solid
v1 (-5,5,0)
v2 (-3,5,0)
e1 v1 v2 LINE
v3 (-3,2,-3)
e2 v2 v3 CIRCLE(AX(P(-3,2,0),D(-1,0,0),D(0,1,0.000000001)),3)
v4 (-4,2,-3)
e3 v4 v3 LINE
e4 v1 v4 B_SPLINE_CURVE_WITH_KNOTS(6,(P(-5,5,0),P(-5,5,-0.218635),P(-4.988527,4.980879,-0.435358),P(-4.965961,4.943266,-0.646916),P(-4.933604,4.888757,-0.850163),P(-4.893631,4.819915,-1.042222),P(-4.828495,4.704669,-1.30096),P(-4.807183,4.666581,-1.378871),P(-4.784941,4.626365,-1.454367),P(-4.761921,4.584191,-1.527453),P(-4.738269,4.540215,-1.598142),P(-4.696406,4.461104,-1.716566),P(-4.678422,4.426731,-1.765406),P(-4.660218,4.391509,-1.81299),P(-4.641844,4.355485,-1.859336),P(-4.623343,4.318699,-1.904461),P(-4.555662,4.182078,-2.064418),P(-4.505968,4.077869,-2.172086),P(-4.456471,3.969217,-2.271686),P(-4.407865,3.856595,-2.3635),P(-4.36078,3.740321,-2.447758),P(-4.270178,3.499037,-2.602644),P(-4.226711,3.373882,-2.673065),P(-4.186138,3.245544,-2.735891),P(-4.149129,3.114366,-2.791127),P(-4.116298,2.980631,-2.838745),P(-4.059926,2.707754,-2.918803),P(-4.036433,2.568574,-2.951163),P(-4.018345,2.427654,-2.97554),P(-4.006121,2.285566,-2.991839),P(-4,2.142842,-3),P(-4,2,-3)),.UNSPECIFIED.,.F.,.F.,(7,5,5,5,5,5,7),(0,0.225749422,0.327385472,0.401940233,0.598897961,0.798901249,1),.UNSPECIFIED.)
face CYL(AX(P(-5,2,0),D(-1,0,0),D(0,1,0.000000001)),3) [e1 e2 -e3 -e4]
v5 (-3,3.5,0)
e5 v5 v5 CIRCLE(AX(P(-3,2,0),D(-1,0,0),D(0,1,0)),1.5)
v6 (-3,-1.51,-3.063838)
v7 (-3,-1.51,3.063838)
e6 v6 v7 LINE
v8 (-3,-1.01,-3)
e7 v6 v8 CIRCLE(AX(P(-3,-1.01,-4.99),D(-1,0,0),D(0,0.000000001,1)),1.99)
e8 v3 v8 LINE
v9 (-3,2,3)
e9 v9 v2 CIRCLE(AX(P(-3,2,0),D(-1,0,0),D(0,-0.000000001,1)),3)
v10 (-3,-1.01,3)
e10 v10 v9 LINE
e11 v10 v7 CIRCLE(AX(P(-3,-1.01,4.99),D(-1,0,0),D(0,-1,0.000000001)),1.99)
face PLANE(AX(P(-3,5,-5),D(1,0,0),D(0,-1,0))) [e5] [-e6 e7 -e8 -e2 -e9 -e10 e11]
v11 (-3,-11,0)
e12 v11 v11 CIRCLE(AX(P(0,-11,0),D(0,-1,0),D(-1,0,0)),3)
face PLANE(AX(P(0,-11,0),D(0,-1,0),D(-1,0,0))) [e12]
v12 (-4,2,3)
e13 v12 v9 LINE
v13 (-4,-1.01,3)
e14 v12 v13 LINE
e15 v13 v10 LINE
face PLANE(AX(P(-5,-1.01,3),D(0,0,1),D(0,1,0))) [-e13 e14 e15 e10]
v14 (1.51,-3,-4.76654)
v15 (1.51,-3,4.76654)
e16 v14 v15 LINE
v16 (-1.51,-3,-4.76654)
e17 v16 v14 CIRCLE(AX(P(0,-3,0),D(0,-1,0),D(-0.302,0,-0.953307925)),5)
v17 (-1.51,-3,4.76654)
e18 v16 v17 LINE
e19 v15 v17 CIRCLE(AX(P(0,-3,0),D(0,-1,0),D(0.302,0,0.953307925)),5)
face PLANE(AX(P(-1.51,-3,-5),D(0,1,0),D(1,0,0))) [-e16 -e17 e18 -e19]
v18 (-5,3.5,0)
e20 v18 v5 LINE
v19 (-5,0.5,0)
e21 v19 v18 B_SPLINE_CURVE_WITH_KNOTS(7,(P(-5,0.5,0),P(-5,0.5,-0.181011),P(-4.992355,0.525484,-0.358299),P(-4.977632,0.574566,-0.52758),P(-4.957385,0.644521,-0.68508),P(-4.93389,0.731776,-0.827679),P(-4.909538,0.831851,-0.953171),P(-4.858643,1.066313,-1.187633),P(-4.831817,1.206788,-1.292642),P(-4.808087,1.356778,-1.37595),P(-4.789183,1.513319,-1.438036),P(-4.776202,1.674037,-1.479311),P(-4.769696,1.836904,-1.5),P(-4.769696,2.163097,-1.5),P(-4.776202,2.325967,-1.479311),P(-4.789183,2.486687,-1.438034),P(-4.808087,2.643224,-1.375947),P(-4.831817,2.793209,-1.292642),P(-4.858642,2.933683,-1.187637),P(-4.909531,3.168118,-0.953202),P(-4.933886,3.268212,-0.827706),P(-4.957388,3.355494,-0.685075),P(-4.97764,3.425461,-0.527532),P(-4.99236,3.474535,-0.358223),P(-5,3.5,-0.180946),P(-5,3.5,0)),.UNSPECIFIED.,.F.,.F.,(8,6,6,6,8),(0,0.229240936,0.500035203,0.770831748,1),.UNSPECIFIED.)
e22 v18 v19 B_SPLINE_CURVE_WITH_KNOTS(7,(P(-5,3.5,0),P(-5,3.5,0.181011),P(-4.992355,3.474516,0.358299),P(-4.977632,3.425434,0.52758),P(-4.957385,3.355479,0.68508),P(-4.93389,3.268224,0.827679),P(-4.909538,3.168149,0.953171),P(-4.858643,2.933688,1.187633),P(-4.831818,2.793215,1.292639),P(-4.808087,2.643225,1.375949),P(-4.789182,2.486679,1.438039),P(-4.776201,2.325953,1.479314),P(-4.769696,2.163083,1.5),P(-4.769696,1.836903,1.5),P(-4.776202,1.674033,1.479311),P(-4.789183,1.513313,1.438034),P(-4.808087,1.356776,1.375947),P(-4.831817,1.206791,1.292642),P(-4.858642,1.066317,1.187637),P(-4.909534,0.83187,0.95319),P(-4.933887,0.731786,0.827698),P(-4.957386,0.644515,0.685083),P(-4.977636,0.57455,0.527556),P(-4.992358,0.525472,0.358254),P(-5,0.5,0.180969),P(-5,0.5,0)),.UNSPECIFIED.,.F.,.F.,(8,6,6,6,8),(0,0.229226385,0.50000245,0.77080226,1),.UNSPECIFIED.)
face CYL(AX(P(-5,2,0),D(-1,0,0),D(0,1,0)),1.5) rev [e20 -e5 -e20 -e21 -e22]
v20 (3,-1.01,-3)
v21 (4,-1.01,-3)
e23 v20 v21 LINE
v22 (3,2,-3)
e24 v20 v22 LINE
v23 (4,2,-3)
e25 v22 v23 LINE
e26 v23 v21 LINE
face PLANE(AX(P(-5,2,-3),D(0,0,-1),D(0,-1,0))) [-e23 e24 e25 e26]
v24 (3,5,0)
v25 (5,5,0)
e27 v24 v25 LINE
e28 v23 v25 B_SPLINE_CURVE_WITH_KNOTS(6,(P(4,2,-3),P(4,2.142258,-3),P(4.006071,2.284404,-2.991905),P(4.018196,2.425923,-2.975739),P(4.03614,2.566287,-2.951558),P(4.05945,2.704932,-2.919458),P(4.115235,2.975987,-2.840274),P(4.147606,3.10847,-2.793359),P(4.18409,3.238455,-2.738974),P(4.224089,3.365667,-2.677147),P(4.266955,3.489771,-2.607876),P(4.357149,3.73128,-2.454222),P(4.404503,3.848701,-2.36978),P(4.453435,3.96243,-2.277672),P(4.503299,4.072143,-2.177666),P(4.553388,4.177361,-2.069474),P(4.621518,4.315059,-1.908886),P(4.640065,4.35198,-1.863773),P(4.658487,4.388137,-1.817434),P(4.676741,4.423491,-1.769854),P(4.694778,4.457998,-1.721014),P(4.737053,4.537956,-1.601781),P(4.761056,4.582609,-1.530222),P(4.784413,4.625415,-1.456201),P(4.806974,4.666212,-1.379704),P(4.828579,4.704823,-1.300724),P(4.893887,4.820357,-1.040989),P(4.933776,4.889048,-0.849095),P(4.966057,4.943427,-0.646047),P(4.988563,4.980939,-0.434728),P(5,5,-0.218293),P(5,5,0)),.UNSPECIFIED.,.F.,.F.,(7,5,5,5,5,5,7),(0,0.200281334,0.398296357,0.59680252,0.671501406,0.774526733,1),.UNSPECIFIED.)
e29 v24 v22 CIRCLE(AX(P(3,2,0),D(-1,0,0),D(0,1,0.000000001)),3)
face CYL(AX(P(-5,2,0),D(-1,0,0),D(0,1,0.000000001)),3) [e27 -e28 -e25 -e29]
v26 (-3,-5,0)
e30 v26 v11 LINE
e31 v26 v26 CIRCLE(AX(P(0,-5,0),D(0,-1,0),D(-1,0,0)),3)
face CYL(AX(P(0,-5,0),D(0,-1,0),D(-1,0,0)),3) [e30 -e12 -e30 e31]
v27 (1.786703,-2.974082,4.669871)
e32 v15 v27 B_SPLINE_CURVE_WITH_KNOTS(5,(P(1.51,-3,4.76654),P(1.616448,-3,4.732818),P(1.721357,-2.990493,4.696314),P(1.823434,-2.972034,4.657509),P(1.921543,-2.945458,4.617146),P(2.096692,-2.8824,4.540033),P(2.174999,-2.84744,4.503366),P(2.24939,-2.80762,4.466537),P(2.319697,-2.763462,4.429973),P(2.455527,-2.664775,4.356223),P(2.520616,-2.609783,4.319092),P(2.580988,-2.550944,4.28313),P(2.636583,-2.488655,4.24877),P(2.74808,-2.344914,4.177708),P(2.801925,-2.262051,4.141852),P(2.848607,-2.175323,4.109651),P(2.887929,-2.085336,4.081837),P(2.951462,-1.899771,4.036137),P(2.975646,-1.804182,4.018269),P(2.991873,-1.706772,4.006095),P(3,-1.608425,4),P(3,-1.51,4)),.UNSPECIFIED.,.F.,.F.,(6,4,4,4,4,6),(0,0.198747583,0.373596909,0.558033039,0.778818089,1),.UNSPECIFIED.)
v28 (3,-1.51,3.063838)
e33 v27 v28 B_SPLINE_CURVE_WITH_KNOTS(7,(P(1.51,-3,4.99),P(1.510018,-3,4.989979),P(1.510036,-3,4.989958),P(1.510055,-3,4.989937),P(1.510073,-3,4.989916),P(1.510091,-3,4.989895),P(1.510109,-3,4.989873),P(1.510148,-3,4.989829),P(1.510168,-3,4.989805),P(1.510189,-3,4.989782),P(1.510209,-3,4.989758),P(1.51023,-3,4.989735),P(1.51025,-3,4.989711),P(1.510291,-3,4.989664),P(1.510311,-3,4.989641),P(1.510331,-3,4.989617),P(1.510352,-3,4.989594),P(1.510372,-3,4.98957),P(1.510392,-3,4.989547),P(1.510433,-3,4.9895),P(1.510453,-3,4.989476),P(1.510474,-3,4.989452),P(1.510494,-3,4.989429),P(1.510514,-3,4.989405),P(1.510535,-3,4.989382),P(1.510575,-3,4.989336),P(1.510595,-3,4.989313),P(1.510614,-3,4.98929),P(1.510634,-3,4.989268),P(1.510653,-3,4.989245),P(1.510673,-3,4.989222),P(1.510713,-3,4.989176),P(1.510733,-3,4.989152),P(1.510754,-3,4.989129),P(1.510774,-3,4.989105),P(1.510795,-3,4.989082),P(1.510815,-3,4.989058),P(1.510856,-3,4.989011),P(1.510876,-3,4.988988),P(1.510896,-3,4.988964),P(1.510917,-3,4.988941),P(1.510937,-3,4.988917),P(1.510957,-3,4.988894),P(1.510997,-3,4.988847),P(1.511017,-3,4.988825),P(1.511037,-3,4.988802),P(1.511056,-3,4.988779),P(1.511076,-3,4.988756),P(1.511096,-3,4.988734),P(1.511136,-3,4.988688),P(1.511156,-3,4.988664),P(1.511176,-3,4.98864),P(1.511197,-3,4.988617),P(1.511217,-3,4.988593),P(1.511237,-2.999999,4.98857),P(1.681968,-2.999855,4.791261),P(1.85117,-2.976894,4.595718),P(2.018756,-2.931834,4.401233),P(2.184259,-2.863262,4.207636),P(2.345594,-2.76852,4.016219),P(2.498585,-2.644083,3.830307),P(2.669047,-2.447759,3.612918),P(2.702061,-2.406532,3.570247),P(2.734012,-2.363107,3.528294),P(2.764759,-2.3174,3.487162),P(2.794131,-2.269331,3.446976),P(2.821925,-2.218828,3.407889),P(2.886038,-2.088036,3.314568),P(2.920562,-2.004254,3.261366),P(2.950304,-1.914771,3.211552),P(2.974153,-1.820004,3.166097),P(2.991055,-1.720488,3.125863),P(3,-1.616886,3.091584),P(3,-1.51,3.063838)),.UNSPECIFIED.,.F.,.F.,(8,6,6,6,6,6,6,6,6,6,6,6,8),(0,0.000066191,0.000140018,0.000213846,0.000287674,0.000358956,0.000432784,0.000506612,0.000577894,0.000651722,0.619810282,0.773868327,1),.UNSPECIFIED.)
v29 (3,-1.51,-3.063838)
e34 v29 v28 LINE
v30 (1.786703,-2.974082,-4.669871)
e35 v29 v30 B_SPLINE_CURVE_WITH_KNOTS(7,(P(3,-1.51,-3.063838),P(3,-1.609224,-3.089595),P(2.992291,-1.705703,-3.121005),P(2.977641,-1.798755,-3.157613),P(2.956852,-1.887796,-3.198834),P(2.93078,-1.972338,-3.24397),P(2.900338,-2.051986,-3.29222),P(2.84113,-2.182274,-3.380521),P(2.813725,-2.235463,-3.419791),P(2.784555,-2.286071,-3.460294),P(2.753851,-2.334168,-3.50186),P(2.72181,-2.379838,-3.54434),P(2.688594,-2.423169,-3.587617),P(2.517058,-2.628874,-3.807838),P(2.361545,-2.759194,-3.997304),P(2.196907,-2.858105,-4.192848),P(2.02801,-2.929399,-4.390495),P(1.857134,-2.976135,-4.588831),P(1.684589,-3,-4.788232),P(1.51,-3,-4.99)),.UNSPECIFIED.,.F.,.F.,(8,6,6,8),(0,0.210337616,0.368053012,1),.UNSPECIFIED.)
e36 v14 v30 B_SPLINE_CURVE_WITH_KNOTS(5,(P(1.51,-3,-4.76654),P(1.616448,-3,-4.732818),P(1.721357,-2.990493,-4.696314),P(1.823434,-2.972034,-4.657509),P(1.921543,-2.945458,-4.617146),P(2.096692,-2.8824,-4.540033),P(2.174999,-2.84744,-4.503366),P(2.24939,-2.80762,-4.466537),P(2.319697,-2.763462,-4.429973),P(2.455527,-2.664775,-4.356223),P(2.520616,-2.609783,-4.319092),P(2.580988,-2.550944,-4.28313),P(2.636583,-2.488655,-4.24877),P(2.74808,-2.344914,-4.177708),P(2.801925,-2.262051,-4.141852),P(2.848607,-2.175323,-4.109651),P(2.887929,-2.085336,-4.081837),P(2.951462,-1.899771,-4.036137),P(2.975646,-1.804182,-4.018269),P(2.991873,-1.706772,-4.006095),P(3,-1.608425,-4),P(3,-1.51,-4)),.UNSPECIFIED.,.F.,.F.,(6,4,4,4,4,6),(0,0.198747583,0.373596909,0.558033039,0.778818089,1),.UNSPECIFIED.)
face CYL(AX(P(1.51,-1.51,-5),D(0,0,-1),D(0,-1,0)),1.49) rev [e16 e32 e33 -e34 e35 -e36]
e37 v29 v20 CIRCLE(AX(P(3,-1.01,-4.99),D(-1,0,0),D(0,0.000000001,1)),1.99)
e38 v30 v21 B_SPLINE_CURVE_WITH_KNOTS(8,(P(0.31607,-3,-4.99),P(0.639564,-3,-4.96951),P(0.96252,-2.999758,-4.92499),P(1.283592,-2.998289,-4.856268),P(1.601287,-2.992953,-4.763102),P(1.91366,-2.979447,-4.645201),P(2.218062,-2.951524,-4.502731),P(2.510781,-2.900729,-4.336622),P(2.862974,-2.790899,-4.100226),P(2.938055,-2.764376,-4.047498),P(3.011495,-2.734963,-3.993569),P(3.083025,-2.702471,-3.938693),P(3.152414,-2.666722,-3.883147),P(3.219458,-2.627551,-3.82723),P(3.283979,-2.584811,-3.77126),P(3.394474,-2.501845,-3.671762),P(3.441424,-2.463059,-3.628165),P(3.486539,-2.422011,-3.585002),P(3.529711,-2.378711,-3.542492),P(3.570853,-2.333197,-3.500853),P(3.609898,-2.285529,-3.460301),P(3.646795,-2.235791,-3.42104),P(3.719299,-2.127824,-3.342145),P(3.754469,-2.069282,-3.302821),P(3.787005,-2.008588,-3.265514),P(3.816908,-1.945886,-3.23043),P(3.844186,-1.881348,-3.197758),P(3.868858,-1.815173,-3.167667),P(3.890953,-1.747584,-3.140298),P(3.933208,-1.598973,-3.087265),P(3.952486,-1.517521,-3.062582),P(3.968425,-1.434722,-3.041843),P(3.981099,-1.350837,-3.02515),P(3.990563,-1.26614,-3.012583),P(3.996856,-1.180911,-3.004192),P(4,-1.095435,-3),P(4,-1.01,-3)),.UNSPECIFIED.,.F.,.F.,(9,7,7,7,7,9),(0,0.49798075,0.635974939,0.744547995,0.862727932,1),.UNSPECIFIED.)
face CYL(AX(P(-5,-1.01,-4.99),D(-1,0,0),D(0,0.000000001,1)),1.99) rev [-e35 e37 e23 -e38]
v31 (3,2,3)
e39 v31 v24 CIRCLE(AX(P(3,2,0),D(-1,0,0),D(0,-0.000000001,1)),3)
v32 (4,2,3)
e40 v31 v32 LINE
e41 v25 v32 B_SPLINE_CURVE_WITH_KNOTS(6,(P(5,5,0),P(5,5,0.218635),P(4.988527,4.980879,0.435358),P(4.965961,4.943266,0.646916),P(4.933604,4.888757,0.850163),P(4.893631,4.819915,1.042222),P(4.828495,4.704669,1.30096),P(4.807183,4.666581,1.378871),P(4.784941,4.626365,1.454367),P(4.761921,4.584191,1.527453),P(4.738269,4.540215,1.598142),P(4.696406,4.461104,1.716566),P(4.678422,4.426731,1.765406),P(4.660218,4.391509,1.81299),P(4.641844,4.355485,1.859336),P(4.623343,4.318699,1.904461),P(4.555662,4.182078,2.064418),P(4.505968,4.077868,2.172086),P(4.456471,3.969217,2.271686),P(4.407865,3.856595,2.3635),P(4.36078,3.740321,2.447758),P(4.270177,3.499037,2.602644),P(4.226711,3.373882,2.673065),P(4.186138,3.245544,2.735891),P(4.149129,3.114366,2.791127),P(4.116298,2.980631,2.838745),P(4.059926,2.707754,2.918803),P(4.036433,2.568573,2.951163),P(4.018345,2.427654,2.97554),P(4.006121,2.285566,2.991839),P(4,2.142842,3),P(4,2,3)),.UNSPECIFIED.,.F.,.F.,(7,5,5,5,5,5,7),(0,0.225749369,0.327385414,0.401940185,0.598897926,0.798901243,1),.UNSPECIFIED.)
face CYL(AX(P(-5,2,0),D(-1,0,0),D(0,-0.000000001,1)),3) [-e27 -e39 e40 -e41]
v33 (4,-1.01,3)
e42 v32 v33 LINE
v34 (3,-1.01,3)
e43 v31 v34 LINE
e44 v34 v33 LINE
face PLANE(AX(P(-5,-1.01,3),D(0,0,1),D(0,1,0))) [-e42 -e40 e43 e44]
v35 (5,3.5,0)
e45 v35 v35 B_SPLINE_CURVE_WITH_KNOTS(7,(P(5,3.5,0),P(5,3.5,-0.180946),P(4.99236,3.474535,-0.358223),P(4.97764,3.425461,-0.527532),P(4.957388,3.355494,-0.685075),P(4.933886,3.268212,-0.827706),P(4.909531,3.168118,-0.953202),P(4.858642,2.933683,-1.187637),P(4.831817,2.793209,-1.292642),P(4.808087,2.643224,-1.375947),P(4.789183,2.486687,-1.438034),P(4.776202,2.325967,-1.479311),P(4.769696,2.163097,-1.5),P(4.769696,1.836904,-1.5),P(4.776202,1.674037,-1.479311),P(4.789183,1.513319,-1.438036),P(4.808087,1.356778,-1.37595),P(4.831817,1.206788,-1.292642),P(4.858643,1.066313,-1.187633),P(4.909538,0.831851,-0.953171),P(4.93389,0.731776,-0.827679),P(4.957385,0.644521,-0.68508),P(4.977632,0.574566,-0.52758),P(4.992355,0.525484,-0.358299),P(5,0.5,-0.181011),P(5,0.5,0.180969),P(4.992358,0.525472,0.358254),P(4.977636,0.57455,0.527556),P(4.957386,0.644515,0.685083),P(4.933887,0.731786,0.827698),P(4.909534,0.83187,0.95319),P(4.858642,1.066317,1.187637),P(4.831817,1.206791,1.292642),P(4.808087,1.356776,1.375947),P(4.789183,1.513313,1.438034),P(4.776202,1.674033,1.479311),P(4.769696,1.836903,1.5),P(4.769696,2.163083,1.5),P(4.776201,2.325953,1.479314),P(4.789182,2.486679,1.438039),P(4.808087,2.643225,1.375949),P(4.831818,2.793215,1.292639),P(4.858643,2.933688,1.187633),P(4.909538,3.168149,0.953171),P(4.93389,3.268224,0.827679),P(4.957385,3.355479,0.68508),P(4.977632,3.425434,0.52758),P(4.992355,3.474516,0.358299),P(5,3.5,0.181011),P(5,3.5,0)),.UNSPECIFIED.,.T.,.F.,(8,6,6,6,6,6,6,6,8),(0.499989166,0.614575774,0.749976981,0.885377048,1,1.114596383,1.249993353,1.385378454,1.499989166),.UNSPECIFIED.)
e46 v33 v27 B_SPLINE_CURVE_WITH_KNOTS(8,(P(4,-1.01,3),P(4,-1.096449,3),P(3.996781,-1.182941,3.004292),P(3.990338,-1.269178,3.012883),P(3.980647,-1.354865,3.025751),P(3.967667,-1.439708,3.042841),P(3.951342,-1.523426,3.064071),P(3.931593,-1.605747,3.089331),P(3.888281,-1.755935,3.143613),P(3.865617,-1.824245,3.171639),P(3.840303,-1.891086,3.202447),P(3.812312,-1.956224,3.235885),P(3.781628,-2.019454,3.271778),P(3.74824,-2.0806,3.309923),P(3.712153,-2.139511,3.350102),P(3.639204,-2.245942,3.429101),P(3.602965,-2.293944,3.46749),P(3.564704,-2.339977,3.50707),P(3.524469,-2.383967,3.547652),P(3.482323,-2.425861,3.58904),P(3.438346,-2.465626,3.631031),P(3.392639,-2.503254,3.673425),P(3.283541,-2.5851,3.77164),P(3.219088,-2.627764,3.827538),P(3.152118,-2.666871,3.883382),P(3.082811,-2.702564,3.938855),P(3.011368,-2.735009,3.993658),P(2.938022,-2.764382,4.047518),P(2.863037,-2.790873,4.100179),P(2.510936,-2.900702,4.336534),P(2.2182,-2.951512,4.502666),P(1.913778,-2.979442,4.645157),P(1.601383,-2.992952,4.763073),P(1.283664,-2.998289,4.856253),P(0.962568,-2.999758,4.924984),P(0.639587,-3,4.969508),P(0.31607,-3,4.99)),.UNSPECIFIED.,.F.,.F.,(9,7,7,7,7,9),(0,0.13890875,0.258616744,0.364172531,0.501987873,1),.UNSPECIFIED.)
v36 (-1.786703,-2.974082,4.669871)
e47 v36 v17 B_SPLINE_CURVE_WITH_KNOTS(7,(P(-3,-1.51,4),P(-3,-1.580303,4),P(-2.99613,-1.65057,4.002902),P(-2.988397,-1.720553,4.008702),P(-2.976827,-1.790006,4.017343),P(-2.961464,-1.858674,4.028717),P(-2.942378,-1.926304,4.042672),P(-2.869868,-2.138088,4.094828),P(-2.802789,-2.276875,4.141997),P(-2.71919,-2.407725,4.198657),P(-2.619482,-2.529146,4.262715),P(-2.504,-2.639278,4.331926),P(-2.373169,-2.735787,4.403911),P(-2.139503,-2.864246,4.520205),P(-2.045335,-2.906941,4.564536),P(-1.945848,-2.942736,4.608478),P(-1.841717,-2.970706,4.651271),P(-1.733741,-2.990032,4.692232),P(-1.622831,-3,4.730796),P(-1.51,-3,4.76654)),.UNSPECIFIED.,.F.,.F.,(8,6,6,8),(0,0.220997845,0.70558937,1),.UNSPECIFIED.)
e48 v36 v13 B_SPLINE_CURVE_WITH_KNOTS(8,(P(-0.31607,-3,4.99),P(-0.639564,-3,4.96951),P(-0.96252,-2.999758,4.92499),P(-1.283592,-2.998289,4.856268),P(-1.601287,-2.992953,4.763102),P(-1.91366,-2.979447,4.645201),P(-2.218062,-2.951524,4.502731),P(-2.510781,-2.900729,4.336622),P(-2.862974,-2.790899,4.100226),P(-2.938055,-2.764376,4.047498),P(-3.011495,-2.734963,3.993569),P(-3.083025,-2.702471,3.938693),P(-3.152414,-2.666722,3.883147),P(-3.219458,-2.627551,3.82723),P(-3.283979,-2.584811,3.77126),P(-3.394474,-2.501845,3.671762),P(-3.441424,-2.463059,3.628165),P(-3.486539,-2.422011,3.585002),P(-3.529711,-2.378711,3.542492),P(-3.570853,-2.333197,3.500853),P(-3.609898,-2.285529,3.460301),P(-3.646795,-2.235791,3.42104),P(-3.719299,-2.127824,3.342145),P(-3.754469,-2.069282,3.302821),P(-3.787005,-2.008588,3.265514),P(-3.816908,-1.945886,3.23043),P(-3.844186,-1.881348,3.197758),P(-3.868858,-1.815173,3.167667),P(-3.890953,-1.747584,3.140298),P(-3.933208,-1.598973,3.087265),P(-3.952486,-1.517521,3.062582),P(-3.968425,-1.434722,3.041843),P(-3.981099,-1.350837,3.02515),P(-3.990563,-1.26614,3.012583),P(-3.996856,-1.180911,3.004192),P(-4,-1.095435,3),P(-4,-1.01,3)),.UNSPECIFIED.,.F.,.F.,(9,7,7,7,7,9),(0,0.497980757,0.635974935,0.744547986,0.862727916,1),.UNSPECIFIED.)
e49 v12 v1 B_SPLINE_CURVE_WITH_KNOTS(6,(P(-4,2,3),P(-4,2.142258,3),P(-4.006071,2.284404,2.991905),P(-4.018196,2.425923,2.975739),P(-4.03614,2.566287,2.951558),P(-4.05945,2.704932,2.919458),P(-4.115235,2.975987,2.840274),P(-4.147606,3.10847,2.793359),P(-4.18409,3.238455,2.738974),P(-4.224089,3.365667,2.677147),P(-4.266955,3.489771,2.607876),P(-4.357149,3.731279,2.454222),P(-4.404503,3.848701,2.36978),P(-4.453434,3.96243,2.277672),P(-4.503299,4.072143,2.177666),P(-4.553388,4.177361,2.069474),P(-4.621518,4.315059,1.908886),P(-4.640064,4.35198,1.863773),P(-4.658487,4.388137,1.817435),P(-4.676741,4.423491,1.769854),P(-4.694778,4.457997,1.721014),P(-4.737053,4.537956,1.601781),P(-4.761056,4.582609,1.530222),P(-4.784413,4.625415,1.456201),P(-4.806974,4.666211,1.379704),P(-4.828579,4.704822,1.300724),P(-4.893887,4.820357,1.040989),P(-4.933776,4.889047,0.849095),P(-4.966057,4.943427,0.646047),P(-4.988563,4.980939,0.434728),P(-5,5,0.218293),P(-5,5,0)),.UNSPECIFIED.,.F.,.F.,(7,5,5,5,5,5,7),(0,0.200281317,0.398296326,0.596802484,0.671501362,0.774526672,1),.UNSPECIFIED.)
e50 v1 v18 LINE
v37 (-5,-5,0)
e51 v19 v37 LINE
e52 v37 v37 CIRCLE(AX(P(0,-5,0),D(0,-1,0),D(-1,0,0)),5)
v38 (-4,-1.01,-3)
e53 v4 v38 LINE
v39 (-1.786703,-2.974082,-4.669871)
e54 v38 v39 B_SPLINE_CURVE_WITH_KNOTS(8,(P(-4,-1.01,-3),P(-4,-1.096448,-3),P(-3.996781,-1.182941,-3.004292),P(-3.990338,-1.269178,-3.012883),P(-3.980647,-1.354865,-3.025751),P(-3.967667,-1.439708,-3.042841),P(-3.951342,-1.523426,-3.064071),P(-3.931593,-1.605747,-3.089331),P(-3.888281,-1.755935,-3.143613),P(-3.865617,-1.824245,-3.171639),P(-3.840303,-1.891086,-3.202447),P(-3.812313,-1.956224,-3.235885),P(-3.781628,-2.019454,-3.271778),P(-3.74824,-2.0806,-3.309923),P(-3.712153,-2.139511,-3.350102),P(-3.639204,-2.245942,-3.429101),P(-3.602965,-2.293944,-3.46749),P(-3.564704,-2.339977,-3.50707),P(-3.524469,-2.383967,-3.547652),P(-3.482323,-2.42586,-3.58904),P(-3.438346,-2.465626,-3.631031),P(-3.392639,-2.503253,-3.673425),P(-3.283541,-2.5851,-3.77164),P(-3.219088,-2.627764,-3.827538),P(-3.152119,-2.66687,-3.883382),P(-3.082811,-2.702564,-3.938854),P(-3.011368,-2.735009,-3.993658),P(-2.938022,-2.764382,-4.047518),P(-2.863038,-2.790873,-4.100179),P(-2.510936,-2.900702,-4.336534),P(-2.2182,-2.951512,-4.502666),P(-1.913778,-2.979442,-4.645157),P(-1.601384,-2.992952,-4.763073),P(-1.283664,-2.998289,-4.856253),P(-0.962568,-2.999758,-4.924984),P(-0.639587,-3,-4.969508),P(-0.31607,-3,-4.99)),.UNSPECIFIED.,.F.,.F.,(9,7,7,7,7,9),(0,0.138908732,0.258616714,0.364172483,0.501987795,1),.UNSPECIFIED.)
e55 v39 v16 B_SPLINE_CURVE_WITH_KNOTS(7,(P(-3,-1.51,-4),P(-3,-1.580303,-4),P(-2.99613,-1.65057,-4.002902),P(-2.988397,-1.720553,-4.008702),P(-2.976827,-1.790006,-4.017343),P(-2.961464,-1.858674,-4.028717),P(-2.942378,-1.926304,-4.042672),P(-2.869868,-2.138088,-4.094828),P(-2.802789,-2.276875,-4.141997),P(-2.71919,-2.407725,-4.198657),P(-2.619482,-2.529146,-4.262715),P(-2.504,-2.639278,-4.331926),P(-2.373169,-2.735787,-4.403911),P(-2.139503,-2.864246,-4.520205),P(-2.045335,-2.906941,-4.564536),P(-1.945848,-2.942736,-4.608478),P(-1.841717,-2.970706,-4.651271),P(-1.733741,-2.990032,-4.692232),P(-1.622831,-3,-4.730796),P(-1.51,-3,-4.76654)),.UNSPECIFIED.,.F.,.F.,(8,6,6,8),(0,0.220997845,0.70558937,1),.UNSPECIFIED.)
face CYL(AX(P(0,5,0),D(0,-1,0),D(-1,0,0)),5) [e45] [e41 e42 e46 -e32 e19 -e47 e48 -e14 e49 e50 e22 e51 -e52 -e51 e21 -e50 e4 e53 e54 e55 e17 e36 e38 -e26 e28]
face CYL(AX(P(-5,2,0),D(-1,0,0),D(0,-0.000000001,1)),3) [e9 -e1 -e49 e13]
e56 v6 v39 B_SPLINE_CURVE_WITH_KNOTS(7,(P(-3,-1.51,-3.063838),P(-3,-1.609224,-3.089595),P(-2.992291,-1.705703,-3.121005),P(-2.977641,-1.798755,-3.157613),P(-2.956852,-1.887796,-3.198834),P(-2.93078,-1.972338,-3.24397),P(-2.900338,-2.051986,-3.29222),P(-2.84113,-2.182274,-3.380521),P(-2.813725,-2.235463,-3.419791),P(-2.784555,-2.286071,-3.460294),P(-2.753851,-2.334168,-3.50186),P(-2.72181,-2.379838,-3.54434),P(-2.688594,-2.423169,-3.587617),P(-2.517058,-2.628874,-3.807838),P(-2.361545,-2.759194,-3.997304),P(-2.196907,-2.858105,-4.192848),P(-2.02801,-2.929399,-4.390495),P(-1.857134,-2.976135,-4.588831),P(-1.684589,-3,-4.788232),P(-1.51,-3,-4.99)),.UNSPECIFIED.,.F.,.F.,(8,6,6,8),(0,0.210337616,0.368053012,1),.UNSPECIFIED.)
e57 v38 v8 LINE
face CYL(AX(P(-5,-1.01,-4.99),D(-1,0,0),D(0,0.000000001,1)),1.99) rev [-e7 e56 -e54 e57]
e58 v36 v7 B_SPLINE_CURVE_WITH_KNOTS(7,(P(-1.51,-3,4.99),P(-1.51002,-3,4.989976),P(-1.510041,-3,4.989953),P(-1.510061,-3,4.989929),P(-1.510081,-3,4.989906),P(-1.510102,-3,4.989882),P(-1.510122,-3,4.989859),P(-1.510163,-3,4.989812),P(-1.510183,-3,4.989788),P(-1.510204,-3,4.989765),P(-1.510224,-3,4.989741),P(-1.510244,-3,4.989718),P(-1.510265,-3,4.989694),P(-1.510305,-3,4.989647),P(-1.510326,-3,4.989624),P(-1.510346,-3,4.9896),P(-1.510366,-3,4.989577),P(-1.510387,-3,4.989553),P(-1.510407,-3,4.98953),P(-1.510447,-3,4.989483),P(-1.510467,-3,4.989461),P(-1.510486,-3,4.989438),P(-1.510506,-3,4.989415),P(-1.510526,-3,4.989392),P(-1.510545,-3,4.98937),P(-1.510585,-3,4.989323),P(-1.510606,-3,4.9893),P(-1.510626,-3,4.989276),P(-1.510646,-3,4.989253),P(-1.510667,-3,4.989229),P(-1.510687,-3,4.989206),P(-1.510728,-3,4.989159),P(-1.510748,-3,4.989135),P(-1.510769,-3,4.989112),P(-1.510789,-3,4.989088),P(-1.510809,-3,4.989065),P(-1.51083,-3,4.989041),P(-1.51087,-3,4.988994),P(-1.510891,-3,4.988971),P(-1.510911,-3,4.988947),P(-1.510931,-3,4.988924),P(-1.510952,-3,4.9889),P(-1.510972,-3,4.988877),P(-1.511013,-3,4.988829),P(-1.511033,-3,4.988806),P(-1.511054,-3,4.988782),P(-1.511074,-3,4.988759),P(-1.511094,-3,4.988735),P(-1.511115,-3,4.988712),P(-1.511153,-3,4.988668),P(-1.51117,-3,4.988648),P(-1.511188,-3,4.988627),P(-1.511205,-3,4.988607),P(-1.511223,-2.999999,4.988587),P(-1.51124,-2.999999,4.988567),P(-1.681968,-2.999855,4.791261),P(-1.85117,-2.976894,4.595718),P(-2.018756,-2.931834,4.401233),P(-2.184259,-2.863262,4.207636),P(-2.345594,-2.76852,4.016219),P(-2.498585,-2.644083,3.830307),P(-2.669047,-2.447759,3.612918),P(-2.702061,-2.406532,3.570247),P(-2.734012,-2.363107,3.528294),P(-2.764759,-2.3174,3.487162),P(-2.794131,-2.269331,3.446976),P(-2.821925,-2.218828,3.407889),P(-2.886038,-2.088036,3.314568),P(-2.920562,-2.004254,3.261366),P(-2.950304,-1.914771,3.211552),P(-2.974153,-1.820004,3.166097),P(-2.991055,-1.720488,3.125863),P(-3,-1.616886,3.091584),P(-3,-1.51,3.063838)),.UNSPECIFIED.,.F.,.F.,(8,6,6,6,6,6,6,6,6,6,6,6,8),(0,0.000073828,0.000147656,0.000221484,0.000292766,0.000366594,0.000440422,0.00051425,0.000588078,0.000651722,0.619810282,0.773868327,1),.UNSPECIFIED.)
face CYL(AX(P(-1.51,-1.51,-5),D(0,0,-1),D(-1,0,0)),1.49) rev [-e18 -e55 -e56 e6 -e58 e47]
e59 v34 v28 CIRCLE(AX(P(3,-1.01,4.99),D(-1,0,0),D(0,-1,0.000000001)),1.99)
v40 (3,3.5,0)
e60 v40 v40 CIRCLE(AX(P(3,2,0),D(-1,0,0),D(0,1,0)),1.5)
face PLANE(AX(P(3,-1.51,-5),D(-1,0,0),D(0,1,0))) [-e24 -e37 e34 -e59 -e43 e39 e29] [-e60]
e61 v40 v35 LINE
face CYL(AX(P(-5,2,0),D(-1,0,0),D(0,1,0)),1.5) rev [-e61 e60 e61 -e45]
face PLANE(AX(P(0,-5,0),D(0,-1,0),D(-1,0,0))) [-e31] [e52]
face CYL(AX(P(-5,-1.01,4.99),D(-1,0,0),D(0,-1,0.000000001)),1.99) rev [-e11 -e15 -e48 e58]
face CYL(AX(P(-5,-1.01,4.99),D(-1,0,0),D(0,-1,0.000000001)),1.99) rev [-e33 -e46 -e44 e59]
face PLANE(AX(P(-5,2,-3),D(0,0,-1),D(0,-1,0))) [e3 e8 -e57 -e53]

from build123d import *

# Parameters (mm, degrees)
CORTAR_EXTRUIR1_DEPTH      = 5
CORTAR_EXTRUIR1_DEPTH_BACK = 5
CROQUIS2_R                 = 1.5
CORTAR_EXTRUIR2_DEPTH      = 5
CORTAR_EXTRUIR2_DEPTH_BACK = 5


with BuildPart() as part:
    # Croquis1 → Revolución1 (revolve)
    with BuildSketch(Plane.XY):
        Polygon((3, 5), (5, 5), (5, -5), (3, -5), (3, -11), (0, -11), (0, -3), (0, 5), align=None)
    revolve(axis=Axis((0, -3, 0), (0, -1, 0)))

    # Croquis2 → Cortar-Extruir1 (cut, two sides: drawn at the far end of the back side and taken through both)
    with BuildSketch(Plane(origin=(0, 0, 0), x_dir=(0, 0, -1), z_dir=(1, 0, 0)).offset(-CORTAR_EXTRUIR1_DEPTH_BACK)):
        with BuildLine():
            Line((-5, 5), (-5, -3))
            Line((-5, -3), (-4.99, -3))
            ThreePointArc((-4.99, -3), (-3.582857505, -2.417142495), (-3, -1.01))
            Line((-3, -1.01), (-3, 2))
            ThreePointArc((-3, 2), (-2.121320344, 4.121320344), (0, 5))
            Line((0, 5), (-5, 5))
        make_face()
        with BuildLine():
            Line((5, 5), (0, 5))
            ThreePointArc((0, 5), (2.121320344, 4.121320344), (3, 2))
            Line((3, 2), (3, -1.01))
            ThreePointArc((3, -1.01), (3.582857505, -2.417142495), (4.99, -3))
            Line((4.99, -3), (5, -3))
            Line((5, -3), (5, 5))
        make_face()
        with Locations((0, 2)):
            Circle(CROQUIS2_R)
    extrude(amount=CORTAR_EXTRUIR1_DEPTH + CORTAR_EXTRUIR1_DEPTH_BACK, mode=Mode.SUBTRACT)

    # Croquis3 → Cortar-Extruir2 (cut, two sides: drawn at the far end of the back side and taken through both)
    with BuildSketch(Plane.XY.offset(-CORTAR_EXTRUIR2_DEPTH_BACK)):
        with BuildLine():
            Line((3, -1.51), (3, 5))
            Line((3, 5), (-3, 5))
            Line((-3, 5), (-3, -1.51))
            ThreePointArc((-3, -1.51), (-2.563589104, -2.563589104), (-1.51, -3))
            Line((-1.51, -3), (1.51, -3))
            ThreePointArc((1.51, -3), (2.563589104, -2.563589104), (3, -1.51))
        make_face()
    extrude(amount=CORTAR_EXTRUIR2_DEPTH + CORTAR_EXTRUIR2_DEPTH_BACK, mode=Mode.SUBTRACT)


solid = part.part
